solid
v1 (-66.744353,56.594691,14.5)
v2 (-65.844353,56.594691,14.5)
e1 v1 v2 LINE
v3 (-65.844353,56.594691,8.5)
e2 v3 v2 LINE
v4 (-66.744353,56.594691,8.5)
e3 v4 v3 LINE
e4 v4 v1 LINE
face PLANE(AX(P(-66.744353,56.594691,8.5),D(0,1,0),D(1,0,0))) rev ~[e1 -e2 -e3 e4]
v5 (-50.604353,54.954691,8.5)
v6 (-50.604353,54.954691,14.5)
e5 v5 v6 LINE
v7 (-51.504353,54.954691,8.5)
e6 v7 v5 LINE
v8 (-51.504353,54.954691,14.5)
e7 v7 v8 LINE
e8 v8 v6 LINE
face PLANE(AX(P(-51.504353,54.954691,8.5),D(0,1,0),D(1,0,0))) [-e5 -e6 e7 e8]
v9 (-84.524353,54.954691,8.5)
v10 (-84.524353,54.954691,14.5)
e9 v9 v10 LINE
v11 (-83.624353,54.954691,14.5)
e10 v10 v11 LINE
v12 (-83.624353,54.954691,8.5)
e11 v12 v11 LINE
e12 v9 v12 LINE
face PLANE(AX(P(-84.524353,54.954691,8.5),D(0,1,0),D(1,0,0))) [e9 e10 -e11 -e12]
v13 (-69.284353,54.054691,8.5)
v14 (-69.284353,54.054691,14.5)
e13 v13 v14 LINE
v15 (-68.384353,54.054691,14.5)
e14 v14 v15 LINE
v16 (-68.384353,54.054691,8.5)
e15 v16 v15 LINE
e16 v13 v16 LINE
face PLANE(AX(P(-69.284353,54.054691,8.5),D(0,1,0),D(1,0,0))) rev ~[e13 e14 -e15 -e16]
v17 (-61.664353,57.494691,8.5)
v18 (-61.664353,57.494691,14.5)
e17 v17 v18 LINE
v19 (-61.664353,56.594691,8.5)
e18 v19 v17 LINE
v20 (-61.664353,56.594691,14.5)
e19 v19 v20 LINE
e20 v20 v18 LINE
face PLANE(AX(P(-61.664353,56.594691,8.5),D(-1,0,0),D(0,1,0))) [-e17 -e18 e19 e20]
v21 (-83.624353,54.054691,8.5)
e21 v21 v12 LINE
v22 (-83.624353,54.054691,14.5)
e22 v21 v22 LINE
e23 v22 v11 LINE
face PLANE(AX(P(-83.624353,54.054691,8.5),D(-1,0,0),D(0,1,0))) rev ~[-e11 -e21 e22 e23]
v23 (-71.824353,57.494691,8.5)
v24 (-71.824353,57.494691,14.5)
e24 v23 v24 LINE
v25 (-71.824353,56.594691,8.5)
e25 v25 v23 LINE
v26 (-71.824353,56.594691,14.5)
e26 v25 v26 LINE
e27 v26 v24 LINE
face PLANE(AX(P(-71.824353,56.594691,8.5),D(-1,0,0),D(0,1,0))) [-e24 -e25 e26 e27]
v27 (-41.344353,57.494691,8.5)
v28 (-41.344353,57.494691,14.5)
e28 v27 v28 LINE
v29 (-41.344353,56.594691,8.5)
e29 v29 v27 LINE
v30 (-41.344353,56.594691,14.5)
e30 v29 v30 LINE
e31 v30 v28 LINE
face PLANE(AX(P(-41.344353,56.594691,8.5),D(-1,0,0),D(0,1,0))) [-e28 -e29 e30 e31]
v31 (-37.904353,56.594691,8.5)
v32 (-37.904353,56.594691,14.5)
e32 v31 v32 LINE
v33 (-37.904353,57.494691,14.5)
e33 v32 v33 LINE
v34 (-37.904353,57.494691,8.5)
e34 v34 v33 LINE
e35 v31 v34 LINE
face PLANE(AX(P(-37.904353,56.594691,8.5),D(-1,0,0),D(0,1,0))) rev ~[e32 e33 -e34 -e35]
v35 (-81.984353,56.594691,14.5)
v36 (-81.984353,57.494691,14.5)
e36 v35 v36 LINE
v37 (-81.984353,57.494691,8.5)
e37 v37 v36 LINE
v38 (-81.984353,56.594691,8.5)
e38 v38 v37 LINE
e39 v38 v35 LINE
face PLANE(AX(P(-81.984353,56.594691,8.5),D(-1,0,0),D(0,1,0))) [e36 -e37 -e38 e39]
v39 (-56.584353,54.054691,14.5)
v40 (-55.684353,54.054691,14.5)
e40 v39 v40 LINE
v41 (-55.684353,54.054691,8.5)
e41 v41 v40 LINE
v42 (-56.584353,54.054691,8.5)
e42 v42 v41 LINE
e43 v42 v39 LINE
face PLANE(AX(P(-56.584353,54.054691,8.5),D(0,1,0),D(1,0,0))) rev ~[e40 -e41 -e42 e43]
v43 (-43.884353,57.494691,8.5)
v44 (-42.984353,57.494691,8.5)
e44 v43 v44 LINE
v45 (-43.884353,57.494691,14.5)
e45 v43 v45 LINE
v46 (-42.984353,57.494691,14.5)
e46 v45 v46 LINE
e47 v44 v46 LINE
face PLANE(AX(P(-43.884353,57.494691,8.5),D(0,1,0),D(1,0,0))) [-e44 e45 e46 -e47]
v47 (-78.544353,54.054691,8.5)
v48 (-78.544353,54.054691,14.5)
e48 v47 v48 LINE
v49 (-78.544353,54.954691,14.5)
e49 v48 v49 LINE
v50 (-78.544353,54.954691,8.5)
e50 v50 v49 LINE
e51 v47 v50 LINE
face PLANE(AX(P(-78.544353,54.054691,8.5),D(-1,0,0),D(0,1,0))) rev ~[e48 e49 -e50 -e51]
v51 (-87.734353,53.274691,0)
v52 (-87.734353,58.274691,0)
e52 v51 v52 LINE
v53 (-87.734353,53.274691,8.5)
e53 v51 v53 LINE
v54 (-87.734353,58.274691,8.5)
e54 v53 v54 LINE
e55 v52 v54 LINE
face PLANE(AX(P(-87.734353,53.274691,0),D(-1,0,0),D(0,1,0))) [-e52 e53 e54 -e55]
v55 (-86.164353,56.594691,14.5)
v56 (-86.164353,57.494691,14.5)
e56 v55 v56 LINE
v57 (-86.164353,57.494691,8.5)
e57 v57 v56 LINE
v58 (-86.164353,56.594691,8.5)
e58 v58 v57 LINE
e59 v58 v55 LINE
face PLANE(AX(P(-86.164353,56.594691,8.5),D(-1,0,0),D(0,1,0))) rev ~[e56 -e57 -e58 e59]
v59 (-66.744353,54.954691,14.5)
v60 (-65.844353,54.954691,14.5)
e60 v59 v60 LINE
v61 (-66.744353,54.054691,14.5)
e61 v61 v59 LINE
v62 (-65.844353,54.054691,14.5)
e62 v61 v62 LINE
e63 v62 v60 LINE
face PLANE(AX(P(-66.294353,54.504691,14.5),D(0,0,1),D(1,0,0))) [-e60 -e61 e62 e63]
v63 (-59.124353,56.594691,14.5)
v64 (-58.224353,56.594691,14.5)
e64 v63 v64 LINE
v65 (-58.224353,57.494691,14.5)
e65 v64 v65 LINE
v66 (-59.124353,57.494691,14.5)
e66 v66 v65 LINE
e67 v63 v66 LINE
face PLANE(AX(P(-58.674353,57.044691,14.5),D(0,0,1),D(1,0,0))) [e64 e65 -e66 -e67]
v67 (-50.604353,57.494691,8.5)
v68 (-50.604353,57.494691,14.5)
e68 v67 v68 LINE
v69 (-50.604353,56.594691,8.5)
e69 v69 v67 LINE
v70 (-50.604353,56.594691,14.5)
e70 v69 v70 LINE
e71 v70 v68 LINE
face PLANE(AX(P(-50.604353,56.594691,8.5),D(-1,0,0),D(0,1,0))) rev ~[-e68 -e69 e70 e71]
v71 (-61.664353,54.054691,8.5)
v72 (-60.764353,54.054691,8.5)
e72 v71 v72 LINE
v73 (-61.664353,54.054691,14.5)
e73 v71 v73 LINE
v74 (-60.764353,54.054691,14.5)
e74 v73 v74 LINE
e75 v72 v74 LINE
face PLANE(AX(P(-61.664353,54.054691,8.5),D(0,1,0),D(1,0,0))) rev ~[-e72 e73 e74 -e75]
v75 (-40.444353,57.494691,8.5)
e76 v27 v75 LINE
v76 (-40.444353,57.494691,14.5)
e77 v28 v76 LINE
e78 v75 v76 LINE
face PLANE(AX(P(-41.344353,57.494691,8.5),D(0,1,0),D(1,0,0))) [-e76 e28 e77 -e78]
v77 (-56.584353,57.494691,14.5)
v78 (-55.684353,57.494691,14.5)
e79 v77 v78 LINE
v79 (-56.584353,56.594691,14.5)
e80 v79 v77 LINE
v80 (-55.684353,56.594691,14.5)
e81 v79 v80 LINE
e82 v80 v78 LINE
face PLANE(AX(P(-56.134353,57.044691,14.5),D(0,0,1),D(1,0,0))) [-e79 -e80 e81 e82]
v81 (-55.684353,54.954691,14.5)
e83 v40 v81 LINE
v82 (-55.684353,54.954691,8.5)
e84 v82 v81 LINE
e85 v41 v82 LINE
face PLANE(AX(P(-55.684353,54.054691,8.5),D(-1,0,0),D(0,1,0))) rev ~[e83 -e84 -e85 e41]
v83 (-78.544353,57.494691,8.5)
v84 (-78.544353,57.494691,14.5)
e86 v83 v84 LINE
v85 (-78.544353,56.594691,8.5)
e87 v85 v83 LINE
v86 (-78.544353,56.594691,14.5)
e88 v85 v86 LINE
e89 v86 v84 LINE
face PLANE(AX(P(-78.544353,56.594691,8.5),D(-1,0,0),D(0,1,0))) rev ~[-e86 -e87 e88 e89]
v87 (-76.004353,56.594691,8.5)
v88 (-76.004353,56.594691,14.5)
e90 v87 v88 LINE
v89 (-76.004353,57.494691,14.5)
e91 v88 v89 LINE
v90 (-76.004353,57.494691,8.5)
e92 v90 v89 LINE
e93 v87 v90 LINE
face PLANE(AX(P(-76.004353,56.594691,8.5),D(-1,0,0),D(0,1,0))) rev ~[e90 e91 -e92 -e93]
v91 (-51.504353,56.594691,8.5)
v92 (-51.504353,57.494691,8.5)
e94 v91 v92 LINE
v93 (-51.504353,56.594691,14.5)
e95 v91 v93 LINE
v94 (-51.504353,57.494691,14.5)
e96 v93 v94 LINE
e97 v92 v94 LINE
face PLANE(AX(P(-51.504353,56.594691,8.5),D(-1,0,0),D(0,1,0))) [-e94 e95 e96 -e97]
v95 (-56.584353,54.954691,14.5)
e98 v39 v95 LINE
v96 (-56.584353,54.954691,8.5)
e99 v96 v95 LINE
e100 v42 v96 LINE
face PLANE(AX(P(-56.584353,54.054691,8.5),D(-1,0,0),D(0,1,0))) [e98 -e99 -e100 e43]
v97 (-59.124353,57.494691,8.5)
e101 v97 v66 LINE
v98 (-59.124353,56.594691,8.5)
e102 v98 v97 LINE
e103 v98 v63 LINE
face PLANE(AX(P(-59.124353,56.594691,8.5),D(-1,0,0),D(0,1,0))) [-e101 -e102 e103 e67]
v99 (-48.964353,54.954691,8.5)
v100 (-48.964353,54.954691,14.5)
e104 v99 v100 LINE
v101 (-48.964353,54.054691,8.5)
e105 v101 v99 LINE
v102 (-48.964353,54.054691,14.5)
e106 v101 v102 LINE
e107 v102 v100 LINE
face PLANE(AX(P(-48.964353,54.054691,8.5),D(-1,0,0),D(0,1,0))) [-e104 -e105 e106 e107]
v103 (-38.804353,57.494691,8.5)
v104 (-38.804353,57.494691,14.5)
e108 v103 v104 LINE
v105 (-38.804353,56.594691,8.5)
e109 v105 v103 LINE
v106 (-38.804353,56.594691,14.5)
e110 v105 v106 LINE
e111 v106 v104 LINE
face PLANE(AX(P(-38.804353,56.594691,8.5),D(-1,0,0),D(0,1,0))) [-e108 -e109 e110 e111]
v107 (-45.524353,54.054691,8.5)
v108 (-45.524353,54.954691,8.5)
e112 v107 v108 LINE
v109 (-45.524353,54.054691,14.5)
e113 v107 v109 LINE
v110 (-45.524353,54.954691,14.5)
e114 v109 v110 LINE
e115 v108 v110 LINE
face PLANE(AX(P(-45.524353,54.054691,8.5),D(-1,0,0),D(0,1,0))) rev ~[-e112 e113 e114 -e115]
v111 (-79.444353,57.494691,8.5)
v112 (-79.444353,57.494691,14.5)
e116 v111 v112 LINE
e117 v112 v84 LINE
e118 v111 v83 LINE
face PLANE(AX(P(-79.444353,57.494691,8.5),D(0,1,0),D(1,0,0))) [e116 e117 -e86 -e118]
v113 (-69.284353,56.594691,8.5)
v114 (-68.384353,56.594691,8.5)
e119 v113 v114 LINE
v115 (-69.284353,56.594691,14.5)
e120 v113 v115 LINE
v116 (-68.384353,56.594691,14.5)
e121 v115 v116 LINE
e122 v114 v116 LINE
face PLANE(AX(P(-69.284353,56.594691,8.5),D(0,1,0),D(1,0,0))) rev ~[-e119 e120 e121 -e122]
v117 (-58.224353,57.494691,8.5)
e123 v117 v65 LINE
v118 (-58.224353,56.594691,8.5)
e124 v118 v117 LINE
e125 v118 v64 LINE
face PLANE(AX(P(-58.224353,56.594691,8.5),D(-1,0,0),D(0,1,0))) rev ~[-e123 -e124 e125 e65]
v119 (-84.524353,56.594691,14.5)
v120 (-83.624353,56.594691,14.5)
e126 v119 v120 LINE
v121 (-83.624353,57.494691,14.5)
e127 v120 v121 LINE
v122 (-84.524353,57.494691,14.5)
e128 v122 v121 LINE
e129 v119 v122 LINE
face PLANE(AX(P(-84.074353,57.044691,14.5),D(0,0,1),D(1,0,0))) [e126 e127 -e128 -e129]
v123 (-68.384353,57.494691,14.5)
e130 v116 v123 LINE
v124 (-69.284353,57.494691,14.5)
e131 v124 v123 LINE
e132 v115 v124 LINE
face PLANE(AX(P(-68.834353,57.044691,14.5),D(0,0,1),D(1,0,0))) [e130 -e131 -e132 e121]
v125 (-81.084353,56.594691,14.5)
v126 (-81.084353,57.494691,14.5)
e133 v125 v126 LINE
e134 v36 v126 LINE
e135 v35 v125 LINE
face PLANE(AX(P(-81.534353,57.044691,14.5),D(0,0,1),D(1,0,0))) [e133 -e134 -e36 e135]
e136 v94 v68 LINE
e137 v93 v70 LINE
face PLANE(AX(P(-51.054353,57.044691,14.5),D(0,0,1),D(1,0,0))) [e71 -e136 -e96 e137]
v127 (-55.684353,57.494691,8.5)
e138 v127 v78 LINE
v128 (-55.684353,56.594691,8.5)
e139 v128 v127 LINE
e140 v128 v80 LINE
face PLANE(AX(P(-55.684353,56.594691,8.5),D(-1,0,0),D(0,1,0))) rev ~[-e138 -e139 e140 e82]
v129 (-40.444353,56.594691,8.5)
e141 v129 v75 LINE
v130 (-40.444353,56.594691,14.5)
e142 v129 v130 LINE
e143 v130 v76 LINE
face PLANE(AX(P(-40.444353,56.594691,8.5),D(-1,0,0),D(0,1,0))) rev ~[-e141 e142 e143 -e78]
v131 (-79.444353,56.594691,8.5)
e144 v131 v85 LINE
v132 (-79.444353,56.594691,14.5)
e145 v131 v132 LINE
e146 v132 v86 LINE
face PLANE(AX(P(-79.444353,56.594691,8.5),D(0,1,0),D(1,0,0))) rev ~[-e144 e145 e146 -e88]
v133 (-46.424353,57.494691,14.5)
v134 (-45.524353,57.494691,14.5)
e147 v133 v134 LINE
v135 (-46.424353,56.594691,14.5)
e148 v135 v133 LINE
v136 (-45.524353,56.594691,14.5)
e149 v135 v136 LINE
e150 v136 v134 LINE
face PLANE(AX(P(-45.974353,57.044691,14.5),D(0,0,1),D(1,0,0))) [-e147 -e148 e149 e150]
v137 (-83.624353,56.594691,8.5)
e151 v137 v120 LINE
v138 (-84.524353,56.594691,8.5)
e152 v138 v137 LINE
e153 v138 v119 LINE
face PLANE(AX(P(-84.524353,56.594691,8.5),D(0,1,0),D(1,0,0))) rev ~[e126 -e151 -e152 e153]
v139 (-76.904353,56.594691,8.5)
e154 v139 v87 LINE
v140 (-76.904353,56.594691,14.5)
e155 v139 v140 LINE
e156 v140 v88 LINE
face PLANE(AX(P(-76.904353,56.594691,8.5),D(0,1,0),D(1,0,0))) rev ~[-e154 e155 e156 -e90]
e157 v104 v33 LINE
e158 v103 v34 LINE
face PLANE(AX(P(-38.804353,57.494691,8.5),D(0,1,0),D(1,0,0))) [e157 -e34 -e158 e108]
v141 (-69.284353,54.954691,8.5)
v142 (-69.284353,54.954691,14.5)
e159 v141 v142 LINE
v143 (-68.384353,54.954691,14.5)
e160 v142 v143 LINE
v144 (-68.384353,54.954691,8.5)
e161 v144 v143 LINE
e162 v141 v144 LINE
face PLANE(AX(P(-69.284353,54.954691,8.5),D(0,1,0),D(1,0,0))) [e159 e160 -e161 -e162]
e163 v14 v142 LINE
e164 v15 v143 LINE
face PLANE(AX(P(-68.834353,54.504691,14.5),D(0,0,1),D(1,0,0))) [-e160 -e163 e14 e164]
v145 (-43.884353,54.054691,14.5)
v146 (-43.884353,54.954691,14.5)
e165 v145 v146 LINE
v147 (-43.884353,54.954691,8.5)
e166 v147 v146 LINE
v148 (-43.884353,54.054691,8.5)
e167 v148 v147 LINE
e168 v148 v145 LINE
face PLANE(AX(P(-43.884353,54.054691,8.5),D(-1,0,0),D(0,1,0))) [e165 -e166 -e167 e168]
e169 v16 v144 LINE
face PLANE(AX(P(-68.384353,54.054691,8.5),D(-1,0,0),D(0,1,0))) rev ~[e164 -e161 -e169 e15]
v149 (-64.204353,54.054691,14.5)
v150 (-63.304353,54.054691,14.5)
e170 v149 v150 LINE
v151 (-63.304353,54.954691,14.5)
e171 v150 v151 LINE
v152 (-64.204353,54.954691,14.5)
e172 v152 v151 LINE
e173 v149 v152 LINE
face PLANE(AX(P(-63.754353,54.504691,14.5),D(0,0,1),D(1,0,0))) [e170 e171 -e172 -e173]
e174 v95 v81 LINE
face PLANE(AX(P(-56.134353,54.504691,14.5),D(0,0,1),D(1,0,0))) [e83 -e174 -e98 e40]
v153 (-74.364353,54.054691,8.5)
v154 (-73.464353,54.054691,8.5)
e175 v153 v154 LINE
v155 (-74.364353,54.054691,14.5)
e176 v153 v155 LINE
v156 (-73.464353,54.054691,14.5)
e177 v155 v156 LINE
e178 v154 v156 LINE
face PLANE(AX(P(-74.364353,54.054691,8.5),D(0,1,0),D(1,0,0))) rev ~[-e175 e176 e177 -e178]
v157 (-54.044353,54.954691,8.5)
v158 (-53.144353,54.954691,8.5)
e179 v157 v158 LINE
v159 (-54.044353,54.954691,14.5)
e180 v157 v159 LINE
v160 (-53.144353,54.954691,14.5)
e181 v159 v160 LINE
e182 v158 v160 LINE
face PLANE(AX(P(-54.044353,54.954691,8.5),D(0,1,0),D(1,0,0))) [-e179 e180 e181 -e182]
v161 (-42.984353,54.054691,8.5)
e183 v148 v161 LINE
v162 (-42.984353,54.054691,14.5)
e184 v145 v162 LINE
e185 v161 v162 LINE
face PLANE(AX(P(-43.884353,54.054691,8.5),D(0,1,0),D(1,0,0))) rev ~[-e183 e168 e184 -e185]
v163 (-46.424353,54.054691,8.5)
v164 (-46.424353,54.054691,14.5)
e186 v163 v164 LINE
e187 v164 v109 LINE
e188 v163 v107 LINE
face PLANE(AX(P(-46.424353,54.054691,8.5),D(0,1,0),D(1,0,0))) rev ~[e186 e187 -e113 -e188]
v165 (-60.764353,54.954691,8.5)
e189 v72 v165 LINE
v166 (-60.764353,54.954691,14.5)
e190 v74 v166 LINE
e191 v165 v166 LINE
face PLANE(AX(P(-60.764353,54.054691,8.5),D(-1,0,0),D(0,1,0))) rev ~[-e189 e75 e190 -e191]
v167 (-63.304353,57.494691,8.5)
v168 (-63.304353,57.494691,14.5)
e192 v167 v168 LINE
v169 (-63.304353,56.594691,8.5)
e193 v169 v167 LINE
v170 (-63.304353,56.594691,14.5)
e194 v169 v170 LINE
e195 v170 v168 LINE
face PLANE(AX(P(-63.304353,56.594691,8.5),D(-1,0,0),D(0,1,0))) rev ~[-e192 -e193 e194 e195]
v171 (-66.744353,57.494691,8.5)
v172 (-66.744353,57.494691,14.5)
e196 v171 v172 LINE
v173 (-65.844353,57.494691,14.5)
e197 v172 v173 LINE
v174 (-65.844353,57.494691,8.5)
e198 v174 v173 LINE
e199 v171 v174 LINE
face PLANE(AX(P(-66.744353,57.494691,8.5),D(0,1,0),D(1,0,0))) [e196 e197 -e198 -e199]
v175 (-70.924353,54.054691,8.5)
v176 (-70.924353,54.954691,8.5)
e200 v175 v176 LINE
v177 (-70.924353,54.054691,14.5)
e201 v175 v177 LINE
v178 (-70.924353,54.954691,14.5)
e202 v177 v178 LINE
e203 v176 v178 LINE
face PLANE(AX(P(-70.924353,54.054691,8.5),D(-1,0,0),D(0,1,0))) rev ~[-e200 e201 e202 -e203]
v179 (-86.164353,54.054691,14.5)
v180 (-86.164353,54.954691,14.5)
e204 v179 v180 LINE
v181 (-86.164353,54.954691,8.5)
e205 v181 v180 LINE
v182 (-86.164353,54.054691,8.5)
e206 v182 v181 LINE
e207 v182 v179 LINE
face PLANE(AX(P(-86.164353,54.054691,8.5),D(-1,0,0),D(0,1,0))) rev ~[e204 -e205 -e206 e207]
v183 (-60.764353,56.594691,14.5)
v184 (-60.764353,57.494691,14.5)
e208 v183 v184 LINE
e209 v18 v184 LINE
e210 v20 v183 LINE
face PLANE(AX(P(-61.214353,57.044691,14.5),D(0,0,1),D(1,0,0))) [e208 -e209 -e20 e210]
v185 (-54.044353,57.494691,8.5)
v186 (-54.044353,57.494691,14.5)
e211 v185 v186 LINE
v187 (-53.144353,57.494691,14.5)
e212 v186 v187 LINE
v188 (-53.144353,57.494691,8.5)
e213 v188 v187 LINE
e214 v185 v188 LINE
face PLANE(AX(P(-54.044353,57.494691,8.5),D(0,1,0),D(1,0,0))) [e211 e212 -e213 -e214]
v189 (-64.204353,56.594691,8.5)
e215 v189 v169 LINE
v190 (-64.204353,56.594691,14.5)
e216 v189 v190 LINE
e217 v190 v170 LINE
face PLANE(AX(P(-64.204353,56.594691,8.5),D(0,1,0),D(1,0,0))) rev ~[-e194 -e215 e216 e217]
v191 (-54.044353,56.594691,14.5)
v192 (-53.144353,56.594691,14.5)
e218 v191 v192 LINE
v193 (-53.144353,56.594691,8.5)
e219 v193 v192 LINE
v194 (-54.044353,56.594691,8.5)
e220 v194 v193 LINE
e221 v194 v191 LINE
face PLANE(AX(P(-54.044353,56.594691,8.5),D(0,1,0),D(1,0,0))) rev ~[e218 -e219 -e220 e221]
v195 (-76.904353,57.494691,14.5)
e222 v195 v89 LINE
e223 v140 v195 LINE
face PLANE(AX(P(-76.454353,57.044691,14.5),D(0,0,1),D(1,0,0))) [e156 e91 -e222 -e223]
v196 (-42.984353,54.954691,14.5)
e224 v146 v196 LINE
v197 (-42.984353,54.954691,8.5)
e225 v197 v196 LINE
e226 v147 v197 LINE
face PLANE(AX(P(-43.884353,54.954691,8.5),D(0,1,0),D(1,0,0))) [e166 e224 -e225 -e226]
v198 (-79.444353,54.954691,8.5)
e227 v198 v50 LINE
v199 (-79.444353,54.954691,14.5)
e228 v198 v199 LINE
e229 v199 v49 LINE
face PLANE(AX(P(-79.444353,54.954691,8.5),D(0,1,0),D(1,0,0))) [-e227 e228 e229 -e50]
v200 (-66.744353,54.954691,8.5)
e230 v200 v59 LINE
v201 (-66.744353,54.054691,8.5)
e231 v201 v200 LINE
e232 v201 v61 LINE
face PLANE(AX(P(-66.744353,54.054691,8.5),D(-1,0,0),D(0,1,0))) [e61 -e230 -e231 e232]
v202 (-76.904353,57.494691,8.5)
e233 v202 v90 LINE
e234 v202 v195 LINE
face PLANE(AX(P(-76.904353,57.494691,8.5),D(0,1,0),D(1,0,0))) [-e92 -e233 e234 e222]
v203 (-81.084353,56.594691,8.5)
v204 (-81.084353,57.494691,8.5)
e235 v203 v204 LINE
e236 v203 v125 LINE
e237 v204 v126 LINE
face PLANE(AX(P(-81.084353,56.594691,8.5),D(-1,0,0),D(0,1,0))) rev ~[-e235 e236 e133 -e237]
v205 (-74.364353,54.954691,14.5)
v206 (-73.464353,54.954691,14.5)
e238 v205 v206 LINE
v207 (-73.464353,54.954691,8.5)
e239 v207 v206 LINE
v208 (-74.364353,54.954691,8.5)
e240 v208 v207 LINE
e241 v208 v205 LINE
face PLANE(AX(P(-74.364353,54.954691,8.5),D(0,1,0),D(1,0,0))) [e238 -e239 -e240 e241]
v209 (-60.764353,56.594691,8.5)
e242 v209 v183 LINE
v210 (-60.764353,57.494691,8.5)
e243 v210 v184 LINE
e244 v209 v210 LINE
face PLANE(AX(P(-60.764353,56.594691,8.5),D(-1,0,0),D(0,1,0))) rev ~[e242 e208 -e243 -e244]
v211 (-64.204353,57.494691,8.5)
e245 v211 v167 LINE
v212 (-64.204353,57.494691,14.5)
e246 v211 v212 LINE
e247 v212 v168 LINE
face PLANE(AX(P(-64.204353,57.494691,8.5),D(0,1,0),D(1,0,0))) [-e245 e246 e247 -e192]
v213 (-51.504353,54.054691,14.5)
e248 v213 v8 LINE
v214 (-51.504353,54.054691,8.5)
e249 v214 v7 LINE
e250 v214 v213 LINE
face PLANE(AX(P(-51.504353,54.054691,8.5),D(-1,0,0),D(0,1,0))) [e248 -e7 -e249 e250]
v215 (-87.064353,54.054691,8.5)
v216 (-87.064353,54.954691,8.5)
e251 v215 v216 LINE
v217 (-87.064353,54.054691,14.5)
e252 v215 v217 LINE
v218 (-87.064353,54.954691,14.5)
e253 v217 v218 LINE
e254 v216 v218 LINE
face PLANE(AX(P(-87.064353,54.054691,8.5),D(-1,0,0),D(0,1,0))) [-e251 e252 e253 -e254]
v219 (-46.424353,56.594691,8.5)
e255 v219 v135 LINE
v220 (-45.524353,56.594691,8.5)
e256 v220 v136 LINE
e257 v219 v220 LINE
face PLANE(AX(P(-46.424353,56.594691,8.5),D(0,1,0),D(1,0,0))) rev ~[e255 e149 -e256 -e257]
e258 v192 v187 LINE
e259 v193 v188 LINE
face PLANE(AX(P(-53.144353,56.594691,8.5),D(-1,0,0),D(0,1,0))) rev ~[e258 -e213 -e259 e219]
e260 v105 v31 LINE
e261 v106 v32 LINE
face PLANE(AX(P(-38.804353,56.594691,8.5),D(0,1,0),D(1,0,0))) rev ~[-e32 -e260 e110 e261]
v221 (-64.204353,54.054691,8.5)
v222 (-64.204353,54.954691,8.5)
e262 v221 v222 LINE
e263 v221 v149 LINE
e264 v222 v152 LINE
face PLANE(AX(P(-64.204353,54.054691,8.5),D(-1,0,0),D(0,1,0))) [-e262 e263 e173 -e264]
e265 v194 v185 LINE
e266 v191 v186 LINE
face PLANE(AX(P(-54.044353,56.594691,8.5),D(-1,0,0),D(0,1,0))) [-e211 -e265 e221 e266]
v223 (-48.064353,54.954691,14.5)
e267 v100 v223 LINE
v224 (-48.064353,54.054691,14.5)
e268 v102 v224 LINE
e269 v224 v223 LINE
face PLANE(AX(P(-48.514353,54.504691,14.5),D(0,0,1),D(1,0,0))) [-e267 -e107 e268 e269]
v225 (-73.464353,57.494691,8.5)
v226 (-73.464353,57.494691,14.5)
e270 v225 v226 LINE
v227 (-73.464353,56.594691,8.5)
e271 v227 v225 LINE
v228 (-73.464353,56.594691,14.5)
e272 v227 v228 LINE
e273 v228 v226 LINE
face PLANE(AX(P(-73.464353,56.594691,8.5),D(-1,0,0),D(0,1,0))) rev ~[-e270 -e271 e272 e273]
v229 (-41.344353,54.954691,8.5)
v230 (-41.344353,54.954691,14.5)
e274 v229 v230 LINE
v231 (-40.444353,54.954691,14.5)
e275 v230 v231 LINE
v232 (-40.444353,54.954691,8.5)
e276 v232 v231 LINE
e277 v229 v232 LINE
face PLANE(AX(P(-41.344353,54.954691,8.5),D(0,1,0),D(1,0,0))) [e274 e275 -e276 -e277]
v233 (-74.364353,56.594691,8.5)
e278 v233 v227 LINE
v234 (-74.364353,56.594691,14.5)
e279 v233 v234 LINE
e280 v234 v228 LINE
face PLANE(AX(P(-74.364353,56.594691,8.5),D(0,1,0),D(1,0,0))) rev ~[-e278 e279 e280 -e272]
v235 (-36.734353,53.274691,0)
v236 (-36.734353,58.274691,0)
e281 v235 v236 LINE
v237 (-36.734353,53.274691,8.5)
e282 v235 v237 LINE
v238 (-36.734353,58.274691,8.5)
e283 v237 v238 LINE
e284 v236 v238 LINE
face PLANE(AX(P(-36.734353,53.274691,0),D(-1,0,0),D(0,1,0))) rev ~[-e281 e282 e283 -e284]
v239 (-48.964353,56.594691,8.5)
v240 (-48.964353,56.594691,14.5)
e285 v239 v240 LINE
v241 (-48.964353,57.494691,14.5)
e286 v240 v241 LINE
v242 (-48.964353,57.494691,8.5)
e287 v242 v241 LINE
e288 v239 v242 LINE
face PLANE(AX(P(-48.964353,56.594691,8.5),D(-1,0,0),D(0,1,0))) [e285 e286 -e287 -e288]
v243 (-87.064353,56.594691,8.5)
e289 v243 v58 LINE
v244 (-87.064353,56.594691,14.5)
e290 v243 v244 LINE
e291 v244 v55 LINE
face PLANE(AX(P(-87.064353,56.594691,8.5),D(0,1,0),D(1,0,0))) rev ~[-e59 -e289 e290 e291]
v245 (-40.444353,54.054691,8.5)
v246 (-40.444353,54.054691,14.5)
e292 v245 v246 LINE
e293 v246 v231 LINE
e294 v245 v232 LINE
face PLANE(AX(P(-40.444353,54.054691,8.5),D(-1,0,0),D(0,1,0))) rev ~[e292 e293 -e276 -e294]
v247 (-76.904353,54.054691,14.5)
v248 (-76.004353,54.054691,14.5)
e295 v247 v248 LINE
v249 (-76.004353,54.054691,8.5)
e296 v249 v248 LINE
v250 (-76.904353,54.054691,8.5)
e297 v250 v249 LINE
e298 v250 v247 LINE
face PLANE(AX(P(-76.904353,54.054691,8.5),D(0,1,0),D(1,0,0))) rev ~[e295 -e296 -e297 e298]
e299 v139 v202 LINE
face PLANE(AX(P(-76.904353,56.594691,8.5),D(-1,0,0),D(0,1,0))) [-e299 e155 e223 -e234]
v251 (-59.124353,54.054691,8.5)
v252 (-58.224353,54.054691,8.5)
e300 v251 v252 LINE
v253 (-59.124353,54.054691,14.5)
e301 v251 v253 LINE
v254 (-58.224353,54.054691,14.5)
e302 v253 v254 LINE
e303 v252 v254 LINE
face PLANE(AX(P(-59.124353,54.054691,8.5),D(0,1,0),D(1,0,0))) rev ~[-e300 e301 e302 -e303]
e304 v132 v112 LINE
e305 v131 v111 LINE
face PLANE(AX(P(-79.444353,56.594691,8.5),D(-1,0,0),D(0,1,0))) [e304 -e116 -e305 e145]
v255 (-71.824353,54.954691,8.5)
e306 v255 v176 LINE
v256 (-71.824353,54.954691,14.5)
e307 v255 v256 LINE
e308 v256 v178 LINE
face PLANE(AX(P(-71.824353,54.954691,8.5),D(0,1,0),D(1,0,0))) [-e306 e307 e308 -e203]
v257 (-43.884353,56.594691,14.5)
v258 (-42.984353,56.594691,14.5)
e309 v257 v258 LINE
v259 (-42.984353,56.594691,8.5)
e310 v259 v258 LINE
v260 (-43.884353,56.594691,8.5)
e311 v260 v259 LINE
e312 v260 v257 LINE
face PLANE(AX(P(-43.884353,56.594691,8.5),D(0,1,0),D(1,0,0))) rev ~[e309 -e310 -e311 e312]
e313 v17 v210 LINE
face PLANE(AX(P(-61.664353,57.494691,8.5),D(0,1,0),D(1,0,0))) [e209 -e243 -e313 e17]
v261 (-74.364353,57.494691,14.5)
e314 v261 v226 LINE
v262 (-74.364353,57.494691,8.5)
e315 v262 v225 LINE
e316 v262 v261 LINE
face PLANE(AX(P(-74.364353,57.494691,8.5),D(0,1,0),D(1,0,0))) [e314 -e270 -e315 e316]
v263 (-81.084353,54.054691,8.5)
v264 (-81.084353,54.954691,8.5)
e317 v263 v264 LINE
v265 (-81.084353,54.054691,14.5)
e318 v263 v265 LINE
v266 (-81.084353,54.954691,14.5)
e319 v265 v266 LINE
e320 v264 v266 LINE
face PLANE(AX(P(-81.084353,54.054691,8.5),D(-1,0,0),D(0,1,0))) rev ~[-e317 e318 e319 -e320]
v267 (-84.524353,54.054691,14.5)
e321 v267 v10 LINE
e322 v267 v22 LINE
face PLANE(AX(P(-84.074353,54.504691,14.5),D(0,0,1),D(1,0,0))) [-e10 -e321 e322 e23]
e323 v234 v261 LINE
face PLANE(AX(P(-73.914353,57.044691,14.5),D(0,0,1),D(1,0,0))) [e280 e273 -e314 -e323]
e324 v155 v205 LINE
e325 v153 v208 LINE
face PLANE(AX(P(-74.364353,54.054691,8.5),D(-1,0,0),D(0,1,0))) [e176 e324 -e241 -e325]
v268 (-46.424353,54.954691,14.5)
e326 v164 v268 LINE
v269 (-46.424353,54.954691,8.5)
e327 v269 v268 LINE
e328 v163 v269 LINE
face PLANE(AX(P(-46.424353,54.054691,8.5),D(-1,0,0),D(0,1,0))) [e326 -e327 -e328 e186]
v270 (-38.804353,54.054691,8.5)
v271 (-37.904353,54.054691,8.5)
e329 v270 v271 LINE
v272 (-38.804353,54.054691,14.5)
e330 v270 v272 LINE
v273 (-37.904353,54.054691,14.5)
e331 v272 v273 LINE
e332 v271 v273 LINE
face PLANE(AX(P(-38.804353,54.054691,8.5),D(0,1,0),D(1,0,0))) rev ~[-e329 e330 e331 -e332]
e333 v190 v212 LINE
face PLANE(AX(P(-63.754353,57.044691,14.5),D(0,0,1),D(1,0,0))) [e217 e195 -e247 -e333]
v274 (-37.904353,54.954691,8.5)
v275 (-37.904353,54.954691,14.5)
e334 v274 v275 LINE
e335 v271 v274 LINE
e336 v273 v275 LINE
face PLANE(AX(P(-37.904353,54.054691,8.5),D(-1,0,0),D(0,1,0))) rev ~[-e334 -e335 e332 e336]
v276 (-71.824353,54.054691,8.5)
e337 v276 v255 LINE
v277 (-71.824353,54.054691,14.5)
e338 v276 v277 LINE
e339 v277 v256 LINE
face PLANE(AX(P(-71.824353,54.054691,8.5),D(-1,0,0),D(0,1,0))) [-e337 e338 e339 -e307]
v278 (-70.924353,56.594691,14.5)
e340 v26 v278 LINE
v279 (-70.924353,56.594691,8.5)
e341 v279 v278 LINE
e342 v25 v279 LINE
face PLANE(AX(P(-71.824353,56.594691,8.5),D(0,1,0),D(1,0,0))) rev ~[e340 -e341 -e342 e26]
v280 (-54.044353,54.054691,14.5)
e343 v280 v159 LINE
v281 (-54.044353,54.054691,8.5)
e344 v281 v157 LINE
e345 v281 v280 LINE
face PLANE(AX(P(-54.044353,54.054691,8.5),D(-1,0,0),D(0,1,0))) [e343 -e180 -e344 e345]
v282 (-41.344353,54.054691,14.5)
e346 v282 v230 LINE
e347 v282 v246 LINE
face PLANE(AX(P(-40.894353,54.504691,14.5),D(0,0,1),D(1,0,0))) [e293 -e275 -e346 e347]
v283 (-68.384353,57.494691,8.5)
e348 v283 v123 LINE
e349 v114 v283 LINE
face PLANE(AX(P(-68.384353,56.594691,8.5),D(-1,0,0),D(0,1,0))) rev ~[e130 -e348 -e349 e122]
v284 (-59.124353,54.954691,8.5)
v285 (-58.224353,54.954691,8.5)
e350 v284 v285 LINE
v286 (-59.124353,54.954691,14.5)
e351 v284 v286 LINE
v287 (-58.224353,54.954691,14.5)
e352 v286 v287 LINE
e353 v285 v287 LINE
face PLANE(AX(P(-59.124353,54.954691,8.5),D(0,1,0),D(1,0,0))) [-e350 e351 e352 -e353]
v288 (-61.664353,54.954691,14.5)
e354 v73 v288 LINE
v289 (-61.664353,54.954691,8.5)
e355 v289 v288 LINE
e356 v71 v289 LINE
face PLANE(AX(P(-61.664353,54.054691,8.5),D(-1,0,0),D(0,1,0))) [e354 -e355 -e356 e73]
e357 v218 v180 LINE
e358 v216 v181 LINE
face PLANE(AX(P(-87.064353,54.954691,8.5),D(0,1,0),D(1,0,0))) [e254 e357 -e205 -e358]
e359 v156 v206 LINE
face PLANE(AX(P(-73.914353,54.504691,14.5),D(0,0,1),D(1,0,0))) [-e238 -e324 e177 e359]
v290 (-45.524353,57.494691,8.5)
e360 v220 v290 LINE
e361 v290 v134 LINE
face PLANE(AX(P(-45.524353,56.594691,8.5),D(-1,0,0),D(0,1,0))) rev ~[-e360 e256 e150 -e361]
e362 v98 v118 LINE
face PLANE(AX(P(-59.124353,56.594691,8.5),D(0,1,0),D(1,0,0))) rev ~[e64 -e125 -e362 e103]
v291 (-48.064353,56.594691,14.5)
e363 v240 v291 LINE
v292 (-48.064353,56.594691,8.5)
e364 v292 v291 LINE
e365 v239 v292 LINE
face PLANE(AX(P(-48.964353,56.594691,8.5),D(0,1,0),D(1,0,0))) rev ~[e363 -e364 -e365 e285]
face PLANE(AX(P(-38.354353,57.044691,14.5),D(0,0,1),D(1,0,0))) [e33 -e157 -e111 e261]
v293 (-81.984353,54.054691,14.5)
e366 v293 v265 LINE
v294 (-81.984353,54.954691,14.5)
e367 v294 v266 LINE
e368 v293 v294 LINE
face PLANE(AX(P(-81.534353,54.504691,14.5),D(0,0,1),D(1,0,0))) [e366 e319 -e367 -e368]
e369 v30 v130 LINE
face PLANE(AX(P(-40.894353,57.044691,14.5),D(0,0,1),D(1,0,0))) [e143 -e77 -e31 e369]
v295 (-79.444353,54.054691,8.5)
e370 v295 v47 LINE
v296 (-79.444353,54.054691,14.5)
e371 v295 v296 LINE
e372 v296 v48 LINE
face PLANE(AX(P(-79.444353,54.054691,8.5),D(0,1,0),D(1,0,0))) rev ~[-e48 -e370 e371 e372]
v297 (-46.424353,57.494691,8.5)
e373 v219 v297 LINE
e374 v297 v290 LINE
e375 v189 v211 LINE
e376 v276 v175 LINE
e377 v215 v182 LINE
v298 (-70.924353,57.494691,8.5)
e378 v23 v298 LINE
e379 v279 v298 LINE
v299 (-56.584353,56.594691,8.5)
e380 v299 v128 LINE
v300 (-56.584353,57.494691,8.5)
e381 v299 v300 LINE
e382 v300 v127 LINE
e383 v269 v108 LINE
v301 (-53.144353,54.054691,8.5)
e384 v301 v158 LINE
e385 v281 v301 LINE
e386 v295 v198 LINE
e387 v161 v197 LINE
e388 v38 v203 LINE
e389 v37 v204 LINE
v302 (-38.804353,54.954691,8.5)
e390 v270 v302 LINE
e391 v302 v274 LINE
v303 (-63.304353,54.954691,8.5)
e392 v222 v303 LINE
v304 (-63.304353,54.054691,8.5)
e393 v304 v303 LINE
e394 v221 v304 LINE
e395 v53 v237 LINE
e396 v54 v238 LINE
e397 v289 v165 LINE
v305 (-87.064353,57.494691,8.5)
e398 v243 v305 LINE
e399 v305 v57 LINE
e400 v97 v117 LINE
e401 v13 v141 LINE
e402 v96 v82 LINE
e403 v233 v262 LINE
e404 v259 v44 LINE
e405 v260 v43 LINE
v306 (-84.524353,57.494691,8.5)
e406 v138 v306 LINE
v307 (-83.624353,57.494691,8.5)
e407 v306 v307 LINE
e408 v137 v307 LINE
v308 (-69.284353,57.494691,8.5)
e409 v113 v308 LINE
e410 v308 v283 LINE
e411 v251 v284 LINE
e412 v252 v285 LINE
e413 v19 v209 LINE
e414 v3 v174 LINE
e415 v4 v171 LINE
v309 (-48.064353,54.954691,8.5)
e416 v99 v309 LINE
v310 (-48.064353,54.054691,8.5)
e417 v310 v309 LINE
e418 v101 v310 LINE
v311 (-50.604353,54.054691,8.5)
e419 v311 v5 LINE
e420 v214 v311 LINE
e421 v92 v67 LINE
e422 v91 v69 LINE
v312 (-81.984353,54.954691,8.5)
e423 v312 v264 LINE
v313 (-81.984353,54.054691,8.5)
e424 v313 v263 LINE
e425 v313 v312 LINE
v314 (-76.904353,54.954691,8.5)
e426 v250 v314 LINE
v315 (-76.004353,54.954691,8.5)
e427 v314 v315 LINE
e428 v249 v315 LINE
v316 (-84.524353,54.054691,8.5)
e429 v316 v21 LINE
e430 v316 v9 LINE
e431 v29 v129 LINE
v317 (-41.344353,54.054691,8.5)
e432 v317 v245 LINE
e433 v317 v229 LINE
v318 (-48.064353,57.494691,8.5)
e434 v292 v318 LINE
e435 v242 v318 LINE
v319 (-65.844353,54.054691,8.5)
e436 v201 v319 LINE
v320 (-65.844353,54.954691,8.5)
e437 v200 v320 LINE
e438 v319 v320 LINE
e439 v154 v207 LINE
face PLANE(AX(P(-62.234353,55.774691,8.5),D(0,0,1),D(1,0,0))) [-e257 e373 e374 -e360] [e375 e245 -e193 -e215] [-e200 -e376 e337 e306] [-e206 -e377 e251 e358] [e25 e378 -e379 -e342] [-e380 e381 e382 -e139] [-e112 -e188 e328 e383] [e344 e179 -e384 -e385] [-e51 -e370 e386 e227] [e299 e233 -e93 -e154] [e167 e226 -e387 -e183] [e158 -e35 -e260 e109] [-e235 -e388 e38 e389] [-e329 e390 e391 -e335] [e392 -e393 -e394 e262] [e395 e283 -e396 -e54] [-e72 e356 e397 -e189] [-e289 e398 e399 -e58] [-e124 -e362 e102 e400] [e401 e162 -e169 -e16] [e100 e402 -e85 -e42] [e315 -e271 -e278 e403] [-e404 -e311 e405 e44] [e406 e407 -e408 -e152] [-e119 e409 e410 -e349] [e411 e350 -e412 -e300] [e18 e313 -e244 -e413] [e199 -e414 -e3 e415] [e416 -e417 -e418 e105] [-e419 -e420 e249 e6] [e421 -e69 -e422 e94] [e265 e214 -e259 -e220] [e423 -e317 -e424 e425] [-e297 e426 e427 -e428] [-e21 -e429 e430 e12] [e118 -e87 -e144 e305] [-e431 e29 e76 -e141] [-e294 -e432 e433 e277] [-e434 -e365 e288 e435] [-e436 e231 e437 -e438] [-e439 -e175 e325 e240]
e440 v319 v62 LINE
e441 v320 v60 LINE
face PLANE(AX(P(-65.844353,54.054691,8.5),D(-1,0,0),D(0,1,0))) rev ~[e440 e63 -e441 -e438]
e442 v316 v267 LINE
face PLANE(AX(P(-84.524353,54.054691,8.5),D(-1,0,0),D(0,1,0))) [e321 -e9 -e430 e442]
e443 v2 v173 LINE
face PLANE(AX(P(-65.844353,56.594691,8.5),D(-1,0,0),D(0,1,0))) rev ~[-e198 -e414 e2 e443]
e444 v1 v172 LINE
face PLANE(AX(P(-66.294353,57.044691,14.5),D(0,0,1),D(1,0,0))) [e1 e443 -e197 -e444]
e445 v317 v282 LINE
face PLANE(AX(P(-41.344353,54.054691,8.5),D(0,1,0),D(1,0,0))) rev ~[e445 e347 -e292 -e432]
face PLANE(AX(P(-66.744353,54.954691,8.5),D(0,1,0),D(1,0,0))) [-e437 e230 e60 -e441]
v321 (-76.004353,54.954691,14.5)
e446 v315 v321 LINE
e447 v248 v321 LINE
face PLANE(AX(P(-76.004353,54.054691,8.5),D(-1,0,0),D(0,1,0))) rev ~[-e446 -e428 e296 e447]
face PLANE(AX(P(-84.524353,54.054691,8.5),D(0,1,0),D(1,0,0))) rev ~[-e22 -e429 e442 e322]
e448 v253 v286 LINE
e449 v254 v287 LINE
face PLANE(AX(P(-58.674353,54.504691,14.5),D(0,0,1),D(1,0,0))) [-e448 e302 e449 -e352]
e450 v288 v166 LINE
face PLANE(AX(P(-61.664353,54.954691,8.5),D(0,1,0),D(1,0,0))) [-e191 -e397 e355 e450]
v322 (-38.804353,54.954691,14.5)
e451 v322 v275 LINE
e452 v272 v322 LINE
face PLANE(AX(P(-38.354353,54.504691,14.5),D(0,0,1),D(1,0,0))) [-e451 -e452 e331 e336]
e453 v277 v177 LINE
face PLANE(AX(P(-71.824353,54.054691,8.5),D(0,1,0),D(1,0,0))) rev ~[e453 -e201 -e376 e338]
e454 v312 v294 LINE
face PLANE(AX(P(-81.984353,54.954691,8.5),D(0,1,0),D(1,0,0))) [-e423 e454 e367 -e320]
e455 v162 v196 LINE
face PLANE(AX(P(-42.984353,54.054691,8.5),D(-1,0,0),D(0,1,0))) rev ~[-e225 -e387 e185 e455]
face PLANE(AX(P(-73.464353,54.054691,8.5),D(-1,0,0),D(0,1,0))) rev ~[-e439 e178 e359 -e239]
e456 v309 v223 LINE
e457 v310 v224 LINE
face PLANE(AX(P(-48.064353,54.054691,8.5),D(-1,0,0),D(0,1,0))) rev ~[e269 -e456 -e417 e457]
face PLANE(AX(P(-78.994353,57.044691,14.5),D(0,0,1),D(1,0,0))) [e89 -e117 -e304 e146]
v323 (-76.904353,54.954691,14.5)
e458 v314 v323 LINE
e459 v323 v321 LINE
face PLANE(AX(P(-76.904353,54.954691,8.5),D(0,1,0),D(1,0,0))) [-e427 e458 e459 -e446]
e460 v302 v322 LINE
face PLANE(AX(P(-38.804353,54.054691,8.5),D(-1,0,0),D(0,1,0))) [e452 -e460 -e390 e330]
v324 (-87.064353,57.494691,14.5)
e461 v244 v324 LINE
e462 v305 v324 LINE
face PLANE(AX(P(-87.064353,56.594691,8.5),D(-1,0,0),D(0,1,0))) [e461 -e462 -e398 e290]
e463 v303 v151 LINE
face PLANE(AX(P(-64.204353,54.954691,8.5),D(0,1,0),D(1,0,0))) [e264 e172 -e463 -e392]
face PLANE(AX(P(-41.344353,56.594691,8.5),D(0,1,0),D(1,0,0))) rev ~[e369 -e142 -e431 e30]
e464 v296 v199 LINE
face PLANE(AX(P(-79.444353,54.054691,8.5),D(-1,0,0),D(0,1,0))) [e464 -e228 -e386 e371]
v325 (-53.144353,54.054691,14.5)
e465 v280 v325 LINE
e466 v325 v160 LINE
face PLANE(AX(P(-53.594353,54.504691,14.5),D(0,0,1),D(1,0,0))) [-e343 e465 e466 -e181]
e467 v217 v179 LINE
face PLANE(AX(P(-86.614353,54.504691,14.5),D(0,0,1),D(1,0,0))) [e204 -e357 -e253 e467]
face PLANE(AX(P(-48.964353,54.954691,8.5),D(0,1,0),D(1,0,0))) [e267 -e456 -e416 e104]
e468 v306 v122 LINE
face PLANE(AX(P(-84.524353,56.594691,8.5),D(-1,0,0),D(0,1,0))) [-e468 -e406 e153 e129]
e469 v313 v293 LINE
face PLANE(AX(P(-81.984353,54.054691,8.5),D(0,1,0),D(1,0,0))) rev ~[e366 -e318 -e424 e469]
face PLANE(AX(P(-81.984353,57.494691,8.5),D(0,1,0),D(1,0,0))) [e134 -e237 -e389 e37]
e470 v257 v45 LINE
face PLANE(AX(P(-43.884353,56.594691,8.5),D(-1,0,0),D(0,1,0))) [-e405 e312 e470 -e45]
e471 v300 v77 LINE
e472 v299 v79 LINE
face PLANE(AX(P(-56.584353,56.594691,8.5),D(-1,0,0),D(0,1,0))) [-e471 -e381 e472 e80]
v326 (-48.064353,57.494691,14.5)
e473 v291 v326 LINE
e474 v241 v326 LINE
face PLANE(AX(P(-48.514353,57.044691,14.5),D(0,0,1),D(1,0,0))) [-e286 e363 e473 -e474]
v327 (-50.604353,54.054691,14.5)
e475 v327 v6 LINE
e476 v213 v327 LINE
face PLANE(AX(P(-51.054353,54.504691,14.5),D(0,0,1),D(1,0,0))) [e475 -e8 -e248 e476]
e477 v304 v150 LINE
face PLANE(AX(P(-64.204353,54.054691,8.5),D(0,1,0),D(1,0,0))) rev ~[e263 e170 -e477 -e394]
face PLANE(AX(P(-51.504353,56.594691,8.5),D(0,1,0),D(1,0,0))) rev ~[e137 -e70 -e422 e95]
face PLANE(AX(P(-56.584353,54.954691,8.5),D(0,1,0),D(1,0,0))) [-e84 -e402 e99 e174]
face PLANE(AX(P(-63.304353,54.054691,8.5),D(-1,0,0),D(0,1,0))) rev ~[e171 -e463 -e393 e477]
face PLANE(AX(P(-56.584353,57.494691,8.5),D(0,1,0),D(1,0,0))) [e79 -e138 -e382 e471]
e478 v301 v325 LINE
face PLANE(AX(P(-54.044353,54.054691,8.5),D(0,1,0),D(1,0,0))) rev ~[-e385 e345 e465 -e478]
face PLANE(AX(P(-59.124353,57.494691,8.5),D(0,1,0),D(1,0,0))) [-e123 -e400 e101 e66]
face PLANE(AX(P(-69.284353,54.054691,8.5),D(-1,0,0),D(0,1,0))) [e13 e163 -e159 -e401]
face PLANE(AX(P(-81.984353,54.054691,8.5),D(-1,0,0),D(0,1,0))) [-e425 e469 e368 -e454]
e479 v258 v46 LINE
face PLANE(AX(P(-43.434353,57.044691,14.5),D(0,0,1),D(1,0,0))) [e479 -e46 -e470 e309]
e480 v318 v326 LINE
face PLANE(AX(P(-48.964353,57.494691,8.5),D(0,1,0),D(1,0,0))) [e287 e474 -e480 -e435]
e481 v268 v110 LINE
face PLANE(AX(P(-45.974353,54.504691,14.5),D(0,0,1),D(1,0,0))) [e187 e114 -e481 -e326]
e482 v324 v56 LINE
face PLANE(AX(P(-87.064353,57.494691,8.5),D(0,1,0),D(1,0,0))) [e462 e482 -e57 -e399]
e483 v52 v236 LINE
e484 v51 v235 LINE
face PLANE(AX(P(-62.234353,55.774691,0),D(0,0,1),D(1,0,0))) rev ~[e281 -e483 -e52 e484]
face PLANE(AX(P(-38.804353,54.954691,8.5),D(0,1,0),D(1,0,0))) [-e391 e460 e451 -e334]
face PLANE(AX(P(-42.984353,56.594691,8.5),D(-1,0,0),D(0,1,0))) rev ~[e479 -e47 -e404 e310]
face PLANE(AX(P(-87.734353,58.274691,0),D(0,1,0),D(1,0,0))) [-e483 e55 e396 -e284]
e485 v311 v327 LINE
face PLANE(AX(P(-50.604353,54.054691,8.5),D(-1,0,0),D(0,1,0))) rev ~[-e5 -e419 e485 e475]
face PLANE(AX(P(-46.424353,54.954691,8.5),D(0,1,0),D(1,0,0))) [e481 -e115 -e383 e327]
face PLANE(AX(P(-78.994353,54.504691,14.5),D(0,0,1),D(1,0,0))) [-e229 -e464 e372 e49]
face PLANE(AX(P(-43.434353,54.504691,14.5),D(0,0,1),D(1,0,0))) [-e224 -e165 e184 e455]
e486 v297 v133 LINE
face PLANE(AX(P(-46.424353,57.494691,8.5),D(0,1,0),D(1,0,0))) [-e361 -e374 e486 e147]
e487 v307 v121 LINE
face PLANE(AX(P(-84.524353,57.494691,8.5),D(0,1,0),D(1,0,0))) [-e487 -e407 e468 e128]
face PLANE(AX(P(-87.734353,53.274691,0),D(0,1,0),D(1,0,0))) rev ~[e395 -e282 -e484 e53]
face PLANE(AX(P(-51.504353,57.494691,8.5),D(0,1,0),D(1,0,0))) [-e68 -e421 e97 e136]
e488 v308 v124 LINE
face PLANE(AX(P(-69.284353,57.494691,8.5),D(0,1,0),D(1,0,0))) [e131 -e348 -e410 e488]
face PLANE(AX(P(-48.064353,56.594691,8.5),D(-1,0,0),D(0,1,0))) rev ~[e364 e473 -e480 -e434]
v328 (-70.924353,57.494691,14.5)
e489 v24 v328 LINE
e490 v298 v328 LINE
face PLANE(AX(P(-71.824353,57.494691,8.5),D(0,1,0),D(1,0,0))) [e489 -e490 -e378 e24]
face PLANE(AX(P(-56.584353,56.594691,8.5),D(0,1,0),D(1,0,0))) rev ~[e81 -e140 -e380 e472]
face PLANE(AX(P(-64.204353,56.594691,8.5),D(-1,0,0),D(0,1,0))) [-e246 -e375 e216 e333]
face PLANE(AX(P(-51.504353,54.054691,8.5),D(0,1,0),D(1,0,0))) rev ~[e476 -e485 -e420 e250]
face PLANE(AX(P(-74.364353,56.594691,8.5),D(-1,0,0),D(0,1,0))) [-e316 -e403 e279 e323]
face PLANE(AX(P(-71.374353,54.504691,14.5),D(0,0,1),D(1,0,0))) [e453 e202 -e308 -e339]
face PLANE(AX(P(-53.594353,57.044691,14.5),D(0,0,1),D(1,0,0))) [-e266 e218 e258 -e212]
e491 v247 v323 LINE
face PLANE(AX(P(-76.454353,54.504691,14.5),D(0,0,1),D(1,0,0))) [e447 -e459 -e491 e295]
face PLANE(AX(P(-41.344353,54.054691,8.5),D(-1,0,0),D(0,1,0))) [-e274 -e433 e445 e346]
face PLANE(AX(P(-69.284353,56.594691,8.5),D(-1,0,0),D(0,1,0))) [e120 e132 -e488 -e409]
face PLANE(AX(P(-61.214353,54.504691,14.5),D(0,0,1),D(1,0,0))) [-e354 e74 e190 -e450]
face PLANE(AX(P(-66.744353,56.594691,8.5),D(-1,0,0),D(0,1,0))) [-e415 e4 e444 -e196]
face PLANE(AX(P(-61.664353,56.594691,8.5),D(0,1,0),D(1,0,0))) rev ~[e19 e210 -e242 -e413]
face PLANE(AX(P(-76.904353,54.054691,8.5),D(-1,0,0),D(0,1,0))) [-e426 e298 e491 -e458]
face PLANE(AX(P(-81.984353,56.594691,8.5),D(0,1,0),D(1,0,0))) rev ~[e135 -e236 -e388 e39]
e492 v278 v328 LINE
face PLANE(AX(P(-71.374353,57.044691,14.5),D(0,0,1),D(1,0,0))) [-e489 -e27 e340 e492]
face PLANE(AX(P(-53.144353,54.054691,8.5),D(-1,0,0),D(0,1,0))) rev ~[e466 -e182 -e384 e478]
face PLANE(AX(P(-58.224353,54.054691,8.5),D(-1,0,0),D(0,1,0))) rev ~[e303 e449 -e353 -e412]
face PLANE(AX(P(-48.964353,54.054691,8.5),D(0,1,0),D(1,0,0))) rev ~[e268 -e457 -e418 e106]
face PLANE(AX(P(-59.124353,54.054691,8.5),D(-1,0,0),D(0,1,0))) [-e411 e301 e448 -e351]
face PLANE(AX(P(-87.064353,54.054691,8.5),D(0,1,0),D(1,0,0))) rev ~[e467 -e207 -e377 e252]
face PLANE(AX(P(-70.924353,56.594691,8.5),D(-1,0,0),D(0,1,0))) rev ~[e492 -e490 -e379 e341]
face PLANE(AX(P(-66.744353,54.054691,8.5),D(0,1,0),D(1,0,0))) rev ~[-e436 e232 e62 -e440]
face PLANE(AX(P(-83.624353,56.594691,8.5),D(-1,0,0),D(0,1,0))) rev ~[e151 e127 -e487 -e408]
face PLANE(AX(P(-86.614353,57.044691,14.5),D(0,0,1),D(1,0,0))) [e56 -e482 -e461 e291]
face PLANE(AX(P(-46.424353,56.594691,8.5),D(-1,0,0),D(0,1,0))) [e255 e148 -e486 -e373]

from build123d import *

# Parameters (mm, degrees)
SKETCH_1_W      = 51
SKETCH_1_H      = 5
EXTRUDE_1_DEPTH = 8.5
SKETCH_3_W      = 0.9
SKETCH_3_H      = 0.9
EXTRUDE_2_DEPTH = 6


with BuildPart() as part:
    # 草图1 → 凸台-拉伸1 (new body)
    with BuildSketch(Plane.XY):
        with Locations((-62.234353046, 55.774690545)):
            Rectangle(SKETCH_1_W, SKETCH_1_H)
    extrude(amount=EXTRUDE_1_DEPTH)

    # 草图3 → 凸台-拉伸2 (add)
    with BuildSketch(Plane.XY.offset(8.5)):
        with Locations((-84.074353046, 57.044690545)):
            Rectangle(SKETCH_3_W, SKETCH_3_H)
        with Locations((-86.614353046, 57.044690545)):
            Rectangle(SKETCH_3_W, SKETCH_3_H)
        with Locations((-81.534353046, 57.044690545)):
            Rectangle(SKETCH_3_W, SKETCH_3_H)
        with Locations((-78.994353046, 57.044690545)):
            Rectangle(SKETCH_3_W, SKETCH_3_H)
        with Locations((-76.454353046, 57.044690545)):
            Rectangle(SKETCH_3_W, SKETCH_3_H)
        with Locations((-73.914353046, 57.044690545)):
            Rectangle(SKETCH_3_W, SKETCH_3_H)
        with Locations((-71.374353046, 57.044690545)):
            Rectangle(SKETCH_3_W, SKETCH_3_H)
        with Locations((-68.834353046, 57.044690545)):
            Rectangle(SKETCH_3_W, SKETCH_3_H)
        with Locations((-66.294353046, 57.044690545)):
            Rectangle(SKETCH_3_W, SKETCH_3_H)
        with Locations((-63.754353046, 57.044690545)):
            Rectangle(SKETCH_3_W, SKETCH_3_H)
        with Locations((-61.214353046, 57.044690545)):
            Rectangle(SKETCH_3_W, SKETCH_3_H)
        with Locations((-58.674353046, 57.044690545)):
            Rectangle(SKETCH_3_W, SKETCH_3_H)
        with Locations((-56.134353046, 57.044690545)):
            Rectangle(SKETCH_3_W, SKETCH_3_H)
        with Locations((-53.594353046, 57.044690545)):
            Rectangle(SKETCH_3_W, SKETCH_3_H)
        with Locations((-51.054353046, 57.044690545)):
            Rectangle(SKETCH_3_W, SKETCH_3_H)
        with Locations((-48.514353046, 57.044690545)):
            Rectangle(SKETCH_3_W, SKETCH_3_H)
        with Locations((-45.974353046, 57.044690545)):
            Rectangle(SKETCH_3_W, SKETCH_3_H)
        with Locations((-43.434353046, 57.044690545)):
            Rectangle(SKETCH_3_W, SKETCH_3_H)
        with Locations((-40.894353046, 57.044690545)):
            Rectangle(SKETCH_3_W, SKETCH_3_H)
        with Locations((-38.354353046, 57.044690545)):
            Rectangle(SKETCH_3_W, SKETCH_3_H)
        with Locations((-84.074353046, 54.504690545)):
            Rectangle(SKETCH_3_W, SKETCH_3_H)
        with Locations((-81.534353046, 54.504690545)):
            Rectangle(SKETCH_3_W, SKETCH_3_H)
        with Locations((-78.994353046, 54.504690545)):
            Rectangle(SKETCH_3_W, SKETCH_3_H)
        with Locations((-76.454353046, 54.504690545)):
            Rectangle(SKETCH_3_W, SKETCH_3_H)
        with Locations((-73.914353046, 54.504690545)):
            Rectangle(SKETCH_3_W, SKETCH_3_H)
        with Locations((-71.374353046, 54.504690545)):
            Rectangle(SKETCH_3_W, SKETCH_3_H)
        with Locations((-68.834353046, 54.504690545)):
            Rectangle(SKETCH_3_W, SKETCH_3_H)
        with Locations((-66.294353046, 54.504690545)):
            Rectangle(SKETCH_3_W, SKETCH_3_H)
        with Locations((-63.754353046, 54.504690545)):
            Rectangle(SKETCH_3_W, SKETCH_3_H)
        with Locations((-61.214353046, 54.504690545)):
            Rectangle(SKETCH_3_W, SKETCH_3_H)
        with Locations((-58.674353046, 54.504690545)):
            Rectangle(SKETCH_3_W, SKETCH_3_H)
        with Locations((-56.134353046, 54.504690545)):
            Rectangle(SKETCH_3_W, SKETCH_3_H)
        with Locations((-53.594353046, 54.504690545)):
            Rectangle(SKETCH_3_W, SKETCH_3_H)
        with Locations((-51.054353046, 54.504690545)):
            Rectangle(SKETCH_3_W, SKETCH_3_H)
        with Locations((-48.514353046, 54.504690545)):
            Rectangle(SKETCH_3_W, SKETCH_3_H)
        with Locations((-45.974353046, 54.504690545)):
            Rectangle(SKETCH_3_W, SKETCH_3_H)
        with Locations((-43.434353046, 54.504690545)):
            Rectangle(SKETCH_3_W, SKETCH_3_H)
        with Locations((-40.894353046, 54.504690545)):
            Rectangle(SKETCH_3_W, SKETCH_3_H)
        with Locations((-38.354353046, 54.504690545)):
            Rectangle(SKETCH_3_W, SKETCH_3_H)
        with Locations((-86.614353046, 54.504690545)):
            Rectangle(SKETCH_3_W, SKETCH_3_H)
    extrude(amount=EXTRUDE_2_DEPTH)


solid = part.part
